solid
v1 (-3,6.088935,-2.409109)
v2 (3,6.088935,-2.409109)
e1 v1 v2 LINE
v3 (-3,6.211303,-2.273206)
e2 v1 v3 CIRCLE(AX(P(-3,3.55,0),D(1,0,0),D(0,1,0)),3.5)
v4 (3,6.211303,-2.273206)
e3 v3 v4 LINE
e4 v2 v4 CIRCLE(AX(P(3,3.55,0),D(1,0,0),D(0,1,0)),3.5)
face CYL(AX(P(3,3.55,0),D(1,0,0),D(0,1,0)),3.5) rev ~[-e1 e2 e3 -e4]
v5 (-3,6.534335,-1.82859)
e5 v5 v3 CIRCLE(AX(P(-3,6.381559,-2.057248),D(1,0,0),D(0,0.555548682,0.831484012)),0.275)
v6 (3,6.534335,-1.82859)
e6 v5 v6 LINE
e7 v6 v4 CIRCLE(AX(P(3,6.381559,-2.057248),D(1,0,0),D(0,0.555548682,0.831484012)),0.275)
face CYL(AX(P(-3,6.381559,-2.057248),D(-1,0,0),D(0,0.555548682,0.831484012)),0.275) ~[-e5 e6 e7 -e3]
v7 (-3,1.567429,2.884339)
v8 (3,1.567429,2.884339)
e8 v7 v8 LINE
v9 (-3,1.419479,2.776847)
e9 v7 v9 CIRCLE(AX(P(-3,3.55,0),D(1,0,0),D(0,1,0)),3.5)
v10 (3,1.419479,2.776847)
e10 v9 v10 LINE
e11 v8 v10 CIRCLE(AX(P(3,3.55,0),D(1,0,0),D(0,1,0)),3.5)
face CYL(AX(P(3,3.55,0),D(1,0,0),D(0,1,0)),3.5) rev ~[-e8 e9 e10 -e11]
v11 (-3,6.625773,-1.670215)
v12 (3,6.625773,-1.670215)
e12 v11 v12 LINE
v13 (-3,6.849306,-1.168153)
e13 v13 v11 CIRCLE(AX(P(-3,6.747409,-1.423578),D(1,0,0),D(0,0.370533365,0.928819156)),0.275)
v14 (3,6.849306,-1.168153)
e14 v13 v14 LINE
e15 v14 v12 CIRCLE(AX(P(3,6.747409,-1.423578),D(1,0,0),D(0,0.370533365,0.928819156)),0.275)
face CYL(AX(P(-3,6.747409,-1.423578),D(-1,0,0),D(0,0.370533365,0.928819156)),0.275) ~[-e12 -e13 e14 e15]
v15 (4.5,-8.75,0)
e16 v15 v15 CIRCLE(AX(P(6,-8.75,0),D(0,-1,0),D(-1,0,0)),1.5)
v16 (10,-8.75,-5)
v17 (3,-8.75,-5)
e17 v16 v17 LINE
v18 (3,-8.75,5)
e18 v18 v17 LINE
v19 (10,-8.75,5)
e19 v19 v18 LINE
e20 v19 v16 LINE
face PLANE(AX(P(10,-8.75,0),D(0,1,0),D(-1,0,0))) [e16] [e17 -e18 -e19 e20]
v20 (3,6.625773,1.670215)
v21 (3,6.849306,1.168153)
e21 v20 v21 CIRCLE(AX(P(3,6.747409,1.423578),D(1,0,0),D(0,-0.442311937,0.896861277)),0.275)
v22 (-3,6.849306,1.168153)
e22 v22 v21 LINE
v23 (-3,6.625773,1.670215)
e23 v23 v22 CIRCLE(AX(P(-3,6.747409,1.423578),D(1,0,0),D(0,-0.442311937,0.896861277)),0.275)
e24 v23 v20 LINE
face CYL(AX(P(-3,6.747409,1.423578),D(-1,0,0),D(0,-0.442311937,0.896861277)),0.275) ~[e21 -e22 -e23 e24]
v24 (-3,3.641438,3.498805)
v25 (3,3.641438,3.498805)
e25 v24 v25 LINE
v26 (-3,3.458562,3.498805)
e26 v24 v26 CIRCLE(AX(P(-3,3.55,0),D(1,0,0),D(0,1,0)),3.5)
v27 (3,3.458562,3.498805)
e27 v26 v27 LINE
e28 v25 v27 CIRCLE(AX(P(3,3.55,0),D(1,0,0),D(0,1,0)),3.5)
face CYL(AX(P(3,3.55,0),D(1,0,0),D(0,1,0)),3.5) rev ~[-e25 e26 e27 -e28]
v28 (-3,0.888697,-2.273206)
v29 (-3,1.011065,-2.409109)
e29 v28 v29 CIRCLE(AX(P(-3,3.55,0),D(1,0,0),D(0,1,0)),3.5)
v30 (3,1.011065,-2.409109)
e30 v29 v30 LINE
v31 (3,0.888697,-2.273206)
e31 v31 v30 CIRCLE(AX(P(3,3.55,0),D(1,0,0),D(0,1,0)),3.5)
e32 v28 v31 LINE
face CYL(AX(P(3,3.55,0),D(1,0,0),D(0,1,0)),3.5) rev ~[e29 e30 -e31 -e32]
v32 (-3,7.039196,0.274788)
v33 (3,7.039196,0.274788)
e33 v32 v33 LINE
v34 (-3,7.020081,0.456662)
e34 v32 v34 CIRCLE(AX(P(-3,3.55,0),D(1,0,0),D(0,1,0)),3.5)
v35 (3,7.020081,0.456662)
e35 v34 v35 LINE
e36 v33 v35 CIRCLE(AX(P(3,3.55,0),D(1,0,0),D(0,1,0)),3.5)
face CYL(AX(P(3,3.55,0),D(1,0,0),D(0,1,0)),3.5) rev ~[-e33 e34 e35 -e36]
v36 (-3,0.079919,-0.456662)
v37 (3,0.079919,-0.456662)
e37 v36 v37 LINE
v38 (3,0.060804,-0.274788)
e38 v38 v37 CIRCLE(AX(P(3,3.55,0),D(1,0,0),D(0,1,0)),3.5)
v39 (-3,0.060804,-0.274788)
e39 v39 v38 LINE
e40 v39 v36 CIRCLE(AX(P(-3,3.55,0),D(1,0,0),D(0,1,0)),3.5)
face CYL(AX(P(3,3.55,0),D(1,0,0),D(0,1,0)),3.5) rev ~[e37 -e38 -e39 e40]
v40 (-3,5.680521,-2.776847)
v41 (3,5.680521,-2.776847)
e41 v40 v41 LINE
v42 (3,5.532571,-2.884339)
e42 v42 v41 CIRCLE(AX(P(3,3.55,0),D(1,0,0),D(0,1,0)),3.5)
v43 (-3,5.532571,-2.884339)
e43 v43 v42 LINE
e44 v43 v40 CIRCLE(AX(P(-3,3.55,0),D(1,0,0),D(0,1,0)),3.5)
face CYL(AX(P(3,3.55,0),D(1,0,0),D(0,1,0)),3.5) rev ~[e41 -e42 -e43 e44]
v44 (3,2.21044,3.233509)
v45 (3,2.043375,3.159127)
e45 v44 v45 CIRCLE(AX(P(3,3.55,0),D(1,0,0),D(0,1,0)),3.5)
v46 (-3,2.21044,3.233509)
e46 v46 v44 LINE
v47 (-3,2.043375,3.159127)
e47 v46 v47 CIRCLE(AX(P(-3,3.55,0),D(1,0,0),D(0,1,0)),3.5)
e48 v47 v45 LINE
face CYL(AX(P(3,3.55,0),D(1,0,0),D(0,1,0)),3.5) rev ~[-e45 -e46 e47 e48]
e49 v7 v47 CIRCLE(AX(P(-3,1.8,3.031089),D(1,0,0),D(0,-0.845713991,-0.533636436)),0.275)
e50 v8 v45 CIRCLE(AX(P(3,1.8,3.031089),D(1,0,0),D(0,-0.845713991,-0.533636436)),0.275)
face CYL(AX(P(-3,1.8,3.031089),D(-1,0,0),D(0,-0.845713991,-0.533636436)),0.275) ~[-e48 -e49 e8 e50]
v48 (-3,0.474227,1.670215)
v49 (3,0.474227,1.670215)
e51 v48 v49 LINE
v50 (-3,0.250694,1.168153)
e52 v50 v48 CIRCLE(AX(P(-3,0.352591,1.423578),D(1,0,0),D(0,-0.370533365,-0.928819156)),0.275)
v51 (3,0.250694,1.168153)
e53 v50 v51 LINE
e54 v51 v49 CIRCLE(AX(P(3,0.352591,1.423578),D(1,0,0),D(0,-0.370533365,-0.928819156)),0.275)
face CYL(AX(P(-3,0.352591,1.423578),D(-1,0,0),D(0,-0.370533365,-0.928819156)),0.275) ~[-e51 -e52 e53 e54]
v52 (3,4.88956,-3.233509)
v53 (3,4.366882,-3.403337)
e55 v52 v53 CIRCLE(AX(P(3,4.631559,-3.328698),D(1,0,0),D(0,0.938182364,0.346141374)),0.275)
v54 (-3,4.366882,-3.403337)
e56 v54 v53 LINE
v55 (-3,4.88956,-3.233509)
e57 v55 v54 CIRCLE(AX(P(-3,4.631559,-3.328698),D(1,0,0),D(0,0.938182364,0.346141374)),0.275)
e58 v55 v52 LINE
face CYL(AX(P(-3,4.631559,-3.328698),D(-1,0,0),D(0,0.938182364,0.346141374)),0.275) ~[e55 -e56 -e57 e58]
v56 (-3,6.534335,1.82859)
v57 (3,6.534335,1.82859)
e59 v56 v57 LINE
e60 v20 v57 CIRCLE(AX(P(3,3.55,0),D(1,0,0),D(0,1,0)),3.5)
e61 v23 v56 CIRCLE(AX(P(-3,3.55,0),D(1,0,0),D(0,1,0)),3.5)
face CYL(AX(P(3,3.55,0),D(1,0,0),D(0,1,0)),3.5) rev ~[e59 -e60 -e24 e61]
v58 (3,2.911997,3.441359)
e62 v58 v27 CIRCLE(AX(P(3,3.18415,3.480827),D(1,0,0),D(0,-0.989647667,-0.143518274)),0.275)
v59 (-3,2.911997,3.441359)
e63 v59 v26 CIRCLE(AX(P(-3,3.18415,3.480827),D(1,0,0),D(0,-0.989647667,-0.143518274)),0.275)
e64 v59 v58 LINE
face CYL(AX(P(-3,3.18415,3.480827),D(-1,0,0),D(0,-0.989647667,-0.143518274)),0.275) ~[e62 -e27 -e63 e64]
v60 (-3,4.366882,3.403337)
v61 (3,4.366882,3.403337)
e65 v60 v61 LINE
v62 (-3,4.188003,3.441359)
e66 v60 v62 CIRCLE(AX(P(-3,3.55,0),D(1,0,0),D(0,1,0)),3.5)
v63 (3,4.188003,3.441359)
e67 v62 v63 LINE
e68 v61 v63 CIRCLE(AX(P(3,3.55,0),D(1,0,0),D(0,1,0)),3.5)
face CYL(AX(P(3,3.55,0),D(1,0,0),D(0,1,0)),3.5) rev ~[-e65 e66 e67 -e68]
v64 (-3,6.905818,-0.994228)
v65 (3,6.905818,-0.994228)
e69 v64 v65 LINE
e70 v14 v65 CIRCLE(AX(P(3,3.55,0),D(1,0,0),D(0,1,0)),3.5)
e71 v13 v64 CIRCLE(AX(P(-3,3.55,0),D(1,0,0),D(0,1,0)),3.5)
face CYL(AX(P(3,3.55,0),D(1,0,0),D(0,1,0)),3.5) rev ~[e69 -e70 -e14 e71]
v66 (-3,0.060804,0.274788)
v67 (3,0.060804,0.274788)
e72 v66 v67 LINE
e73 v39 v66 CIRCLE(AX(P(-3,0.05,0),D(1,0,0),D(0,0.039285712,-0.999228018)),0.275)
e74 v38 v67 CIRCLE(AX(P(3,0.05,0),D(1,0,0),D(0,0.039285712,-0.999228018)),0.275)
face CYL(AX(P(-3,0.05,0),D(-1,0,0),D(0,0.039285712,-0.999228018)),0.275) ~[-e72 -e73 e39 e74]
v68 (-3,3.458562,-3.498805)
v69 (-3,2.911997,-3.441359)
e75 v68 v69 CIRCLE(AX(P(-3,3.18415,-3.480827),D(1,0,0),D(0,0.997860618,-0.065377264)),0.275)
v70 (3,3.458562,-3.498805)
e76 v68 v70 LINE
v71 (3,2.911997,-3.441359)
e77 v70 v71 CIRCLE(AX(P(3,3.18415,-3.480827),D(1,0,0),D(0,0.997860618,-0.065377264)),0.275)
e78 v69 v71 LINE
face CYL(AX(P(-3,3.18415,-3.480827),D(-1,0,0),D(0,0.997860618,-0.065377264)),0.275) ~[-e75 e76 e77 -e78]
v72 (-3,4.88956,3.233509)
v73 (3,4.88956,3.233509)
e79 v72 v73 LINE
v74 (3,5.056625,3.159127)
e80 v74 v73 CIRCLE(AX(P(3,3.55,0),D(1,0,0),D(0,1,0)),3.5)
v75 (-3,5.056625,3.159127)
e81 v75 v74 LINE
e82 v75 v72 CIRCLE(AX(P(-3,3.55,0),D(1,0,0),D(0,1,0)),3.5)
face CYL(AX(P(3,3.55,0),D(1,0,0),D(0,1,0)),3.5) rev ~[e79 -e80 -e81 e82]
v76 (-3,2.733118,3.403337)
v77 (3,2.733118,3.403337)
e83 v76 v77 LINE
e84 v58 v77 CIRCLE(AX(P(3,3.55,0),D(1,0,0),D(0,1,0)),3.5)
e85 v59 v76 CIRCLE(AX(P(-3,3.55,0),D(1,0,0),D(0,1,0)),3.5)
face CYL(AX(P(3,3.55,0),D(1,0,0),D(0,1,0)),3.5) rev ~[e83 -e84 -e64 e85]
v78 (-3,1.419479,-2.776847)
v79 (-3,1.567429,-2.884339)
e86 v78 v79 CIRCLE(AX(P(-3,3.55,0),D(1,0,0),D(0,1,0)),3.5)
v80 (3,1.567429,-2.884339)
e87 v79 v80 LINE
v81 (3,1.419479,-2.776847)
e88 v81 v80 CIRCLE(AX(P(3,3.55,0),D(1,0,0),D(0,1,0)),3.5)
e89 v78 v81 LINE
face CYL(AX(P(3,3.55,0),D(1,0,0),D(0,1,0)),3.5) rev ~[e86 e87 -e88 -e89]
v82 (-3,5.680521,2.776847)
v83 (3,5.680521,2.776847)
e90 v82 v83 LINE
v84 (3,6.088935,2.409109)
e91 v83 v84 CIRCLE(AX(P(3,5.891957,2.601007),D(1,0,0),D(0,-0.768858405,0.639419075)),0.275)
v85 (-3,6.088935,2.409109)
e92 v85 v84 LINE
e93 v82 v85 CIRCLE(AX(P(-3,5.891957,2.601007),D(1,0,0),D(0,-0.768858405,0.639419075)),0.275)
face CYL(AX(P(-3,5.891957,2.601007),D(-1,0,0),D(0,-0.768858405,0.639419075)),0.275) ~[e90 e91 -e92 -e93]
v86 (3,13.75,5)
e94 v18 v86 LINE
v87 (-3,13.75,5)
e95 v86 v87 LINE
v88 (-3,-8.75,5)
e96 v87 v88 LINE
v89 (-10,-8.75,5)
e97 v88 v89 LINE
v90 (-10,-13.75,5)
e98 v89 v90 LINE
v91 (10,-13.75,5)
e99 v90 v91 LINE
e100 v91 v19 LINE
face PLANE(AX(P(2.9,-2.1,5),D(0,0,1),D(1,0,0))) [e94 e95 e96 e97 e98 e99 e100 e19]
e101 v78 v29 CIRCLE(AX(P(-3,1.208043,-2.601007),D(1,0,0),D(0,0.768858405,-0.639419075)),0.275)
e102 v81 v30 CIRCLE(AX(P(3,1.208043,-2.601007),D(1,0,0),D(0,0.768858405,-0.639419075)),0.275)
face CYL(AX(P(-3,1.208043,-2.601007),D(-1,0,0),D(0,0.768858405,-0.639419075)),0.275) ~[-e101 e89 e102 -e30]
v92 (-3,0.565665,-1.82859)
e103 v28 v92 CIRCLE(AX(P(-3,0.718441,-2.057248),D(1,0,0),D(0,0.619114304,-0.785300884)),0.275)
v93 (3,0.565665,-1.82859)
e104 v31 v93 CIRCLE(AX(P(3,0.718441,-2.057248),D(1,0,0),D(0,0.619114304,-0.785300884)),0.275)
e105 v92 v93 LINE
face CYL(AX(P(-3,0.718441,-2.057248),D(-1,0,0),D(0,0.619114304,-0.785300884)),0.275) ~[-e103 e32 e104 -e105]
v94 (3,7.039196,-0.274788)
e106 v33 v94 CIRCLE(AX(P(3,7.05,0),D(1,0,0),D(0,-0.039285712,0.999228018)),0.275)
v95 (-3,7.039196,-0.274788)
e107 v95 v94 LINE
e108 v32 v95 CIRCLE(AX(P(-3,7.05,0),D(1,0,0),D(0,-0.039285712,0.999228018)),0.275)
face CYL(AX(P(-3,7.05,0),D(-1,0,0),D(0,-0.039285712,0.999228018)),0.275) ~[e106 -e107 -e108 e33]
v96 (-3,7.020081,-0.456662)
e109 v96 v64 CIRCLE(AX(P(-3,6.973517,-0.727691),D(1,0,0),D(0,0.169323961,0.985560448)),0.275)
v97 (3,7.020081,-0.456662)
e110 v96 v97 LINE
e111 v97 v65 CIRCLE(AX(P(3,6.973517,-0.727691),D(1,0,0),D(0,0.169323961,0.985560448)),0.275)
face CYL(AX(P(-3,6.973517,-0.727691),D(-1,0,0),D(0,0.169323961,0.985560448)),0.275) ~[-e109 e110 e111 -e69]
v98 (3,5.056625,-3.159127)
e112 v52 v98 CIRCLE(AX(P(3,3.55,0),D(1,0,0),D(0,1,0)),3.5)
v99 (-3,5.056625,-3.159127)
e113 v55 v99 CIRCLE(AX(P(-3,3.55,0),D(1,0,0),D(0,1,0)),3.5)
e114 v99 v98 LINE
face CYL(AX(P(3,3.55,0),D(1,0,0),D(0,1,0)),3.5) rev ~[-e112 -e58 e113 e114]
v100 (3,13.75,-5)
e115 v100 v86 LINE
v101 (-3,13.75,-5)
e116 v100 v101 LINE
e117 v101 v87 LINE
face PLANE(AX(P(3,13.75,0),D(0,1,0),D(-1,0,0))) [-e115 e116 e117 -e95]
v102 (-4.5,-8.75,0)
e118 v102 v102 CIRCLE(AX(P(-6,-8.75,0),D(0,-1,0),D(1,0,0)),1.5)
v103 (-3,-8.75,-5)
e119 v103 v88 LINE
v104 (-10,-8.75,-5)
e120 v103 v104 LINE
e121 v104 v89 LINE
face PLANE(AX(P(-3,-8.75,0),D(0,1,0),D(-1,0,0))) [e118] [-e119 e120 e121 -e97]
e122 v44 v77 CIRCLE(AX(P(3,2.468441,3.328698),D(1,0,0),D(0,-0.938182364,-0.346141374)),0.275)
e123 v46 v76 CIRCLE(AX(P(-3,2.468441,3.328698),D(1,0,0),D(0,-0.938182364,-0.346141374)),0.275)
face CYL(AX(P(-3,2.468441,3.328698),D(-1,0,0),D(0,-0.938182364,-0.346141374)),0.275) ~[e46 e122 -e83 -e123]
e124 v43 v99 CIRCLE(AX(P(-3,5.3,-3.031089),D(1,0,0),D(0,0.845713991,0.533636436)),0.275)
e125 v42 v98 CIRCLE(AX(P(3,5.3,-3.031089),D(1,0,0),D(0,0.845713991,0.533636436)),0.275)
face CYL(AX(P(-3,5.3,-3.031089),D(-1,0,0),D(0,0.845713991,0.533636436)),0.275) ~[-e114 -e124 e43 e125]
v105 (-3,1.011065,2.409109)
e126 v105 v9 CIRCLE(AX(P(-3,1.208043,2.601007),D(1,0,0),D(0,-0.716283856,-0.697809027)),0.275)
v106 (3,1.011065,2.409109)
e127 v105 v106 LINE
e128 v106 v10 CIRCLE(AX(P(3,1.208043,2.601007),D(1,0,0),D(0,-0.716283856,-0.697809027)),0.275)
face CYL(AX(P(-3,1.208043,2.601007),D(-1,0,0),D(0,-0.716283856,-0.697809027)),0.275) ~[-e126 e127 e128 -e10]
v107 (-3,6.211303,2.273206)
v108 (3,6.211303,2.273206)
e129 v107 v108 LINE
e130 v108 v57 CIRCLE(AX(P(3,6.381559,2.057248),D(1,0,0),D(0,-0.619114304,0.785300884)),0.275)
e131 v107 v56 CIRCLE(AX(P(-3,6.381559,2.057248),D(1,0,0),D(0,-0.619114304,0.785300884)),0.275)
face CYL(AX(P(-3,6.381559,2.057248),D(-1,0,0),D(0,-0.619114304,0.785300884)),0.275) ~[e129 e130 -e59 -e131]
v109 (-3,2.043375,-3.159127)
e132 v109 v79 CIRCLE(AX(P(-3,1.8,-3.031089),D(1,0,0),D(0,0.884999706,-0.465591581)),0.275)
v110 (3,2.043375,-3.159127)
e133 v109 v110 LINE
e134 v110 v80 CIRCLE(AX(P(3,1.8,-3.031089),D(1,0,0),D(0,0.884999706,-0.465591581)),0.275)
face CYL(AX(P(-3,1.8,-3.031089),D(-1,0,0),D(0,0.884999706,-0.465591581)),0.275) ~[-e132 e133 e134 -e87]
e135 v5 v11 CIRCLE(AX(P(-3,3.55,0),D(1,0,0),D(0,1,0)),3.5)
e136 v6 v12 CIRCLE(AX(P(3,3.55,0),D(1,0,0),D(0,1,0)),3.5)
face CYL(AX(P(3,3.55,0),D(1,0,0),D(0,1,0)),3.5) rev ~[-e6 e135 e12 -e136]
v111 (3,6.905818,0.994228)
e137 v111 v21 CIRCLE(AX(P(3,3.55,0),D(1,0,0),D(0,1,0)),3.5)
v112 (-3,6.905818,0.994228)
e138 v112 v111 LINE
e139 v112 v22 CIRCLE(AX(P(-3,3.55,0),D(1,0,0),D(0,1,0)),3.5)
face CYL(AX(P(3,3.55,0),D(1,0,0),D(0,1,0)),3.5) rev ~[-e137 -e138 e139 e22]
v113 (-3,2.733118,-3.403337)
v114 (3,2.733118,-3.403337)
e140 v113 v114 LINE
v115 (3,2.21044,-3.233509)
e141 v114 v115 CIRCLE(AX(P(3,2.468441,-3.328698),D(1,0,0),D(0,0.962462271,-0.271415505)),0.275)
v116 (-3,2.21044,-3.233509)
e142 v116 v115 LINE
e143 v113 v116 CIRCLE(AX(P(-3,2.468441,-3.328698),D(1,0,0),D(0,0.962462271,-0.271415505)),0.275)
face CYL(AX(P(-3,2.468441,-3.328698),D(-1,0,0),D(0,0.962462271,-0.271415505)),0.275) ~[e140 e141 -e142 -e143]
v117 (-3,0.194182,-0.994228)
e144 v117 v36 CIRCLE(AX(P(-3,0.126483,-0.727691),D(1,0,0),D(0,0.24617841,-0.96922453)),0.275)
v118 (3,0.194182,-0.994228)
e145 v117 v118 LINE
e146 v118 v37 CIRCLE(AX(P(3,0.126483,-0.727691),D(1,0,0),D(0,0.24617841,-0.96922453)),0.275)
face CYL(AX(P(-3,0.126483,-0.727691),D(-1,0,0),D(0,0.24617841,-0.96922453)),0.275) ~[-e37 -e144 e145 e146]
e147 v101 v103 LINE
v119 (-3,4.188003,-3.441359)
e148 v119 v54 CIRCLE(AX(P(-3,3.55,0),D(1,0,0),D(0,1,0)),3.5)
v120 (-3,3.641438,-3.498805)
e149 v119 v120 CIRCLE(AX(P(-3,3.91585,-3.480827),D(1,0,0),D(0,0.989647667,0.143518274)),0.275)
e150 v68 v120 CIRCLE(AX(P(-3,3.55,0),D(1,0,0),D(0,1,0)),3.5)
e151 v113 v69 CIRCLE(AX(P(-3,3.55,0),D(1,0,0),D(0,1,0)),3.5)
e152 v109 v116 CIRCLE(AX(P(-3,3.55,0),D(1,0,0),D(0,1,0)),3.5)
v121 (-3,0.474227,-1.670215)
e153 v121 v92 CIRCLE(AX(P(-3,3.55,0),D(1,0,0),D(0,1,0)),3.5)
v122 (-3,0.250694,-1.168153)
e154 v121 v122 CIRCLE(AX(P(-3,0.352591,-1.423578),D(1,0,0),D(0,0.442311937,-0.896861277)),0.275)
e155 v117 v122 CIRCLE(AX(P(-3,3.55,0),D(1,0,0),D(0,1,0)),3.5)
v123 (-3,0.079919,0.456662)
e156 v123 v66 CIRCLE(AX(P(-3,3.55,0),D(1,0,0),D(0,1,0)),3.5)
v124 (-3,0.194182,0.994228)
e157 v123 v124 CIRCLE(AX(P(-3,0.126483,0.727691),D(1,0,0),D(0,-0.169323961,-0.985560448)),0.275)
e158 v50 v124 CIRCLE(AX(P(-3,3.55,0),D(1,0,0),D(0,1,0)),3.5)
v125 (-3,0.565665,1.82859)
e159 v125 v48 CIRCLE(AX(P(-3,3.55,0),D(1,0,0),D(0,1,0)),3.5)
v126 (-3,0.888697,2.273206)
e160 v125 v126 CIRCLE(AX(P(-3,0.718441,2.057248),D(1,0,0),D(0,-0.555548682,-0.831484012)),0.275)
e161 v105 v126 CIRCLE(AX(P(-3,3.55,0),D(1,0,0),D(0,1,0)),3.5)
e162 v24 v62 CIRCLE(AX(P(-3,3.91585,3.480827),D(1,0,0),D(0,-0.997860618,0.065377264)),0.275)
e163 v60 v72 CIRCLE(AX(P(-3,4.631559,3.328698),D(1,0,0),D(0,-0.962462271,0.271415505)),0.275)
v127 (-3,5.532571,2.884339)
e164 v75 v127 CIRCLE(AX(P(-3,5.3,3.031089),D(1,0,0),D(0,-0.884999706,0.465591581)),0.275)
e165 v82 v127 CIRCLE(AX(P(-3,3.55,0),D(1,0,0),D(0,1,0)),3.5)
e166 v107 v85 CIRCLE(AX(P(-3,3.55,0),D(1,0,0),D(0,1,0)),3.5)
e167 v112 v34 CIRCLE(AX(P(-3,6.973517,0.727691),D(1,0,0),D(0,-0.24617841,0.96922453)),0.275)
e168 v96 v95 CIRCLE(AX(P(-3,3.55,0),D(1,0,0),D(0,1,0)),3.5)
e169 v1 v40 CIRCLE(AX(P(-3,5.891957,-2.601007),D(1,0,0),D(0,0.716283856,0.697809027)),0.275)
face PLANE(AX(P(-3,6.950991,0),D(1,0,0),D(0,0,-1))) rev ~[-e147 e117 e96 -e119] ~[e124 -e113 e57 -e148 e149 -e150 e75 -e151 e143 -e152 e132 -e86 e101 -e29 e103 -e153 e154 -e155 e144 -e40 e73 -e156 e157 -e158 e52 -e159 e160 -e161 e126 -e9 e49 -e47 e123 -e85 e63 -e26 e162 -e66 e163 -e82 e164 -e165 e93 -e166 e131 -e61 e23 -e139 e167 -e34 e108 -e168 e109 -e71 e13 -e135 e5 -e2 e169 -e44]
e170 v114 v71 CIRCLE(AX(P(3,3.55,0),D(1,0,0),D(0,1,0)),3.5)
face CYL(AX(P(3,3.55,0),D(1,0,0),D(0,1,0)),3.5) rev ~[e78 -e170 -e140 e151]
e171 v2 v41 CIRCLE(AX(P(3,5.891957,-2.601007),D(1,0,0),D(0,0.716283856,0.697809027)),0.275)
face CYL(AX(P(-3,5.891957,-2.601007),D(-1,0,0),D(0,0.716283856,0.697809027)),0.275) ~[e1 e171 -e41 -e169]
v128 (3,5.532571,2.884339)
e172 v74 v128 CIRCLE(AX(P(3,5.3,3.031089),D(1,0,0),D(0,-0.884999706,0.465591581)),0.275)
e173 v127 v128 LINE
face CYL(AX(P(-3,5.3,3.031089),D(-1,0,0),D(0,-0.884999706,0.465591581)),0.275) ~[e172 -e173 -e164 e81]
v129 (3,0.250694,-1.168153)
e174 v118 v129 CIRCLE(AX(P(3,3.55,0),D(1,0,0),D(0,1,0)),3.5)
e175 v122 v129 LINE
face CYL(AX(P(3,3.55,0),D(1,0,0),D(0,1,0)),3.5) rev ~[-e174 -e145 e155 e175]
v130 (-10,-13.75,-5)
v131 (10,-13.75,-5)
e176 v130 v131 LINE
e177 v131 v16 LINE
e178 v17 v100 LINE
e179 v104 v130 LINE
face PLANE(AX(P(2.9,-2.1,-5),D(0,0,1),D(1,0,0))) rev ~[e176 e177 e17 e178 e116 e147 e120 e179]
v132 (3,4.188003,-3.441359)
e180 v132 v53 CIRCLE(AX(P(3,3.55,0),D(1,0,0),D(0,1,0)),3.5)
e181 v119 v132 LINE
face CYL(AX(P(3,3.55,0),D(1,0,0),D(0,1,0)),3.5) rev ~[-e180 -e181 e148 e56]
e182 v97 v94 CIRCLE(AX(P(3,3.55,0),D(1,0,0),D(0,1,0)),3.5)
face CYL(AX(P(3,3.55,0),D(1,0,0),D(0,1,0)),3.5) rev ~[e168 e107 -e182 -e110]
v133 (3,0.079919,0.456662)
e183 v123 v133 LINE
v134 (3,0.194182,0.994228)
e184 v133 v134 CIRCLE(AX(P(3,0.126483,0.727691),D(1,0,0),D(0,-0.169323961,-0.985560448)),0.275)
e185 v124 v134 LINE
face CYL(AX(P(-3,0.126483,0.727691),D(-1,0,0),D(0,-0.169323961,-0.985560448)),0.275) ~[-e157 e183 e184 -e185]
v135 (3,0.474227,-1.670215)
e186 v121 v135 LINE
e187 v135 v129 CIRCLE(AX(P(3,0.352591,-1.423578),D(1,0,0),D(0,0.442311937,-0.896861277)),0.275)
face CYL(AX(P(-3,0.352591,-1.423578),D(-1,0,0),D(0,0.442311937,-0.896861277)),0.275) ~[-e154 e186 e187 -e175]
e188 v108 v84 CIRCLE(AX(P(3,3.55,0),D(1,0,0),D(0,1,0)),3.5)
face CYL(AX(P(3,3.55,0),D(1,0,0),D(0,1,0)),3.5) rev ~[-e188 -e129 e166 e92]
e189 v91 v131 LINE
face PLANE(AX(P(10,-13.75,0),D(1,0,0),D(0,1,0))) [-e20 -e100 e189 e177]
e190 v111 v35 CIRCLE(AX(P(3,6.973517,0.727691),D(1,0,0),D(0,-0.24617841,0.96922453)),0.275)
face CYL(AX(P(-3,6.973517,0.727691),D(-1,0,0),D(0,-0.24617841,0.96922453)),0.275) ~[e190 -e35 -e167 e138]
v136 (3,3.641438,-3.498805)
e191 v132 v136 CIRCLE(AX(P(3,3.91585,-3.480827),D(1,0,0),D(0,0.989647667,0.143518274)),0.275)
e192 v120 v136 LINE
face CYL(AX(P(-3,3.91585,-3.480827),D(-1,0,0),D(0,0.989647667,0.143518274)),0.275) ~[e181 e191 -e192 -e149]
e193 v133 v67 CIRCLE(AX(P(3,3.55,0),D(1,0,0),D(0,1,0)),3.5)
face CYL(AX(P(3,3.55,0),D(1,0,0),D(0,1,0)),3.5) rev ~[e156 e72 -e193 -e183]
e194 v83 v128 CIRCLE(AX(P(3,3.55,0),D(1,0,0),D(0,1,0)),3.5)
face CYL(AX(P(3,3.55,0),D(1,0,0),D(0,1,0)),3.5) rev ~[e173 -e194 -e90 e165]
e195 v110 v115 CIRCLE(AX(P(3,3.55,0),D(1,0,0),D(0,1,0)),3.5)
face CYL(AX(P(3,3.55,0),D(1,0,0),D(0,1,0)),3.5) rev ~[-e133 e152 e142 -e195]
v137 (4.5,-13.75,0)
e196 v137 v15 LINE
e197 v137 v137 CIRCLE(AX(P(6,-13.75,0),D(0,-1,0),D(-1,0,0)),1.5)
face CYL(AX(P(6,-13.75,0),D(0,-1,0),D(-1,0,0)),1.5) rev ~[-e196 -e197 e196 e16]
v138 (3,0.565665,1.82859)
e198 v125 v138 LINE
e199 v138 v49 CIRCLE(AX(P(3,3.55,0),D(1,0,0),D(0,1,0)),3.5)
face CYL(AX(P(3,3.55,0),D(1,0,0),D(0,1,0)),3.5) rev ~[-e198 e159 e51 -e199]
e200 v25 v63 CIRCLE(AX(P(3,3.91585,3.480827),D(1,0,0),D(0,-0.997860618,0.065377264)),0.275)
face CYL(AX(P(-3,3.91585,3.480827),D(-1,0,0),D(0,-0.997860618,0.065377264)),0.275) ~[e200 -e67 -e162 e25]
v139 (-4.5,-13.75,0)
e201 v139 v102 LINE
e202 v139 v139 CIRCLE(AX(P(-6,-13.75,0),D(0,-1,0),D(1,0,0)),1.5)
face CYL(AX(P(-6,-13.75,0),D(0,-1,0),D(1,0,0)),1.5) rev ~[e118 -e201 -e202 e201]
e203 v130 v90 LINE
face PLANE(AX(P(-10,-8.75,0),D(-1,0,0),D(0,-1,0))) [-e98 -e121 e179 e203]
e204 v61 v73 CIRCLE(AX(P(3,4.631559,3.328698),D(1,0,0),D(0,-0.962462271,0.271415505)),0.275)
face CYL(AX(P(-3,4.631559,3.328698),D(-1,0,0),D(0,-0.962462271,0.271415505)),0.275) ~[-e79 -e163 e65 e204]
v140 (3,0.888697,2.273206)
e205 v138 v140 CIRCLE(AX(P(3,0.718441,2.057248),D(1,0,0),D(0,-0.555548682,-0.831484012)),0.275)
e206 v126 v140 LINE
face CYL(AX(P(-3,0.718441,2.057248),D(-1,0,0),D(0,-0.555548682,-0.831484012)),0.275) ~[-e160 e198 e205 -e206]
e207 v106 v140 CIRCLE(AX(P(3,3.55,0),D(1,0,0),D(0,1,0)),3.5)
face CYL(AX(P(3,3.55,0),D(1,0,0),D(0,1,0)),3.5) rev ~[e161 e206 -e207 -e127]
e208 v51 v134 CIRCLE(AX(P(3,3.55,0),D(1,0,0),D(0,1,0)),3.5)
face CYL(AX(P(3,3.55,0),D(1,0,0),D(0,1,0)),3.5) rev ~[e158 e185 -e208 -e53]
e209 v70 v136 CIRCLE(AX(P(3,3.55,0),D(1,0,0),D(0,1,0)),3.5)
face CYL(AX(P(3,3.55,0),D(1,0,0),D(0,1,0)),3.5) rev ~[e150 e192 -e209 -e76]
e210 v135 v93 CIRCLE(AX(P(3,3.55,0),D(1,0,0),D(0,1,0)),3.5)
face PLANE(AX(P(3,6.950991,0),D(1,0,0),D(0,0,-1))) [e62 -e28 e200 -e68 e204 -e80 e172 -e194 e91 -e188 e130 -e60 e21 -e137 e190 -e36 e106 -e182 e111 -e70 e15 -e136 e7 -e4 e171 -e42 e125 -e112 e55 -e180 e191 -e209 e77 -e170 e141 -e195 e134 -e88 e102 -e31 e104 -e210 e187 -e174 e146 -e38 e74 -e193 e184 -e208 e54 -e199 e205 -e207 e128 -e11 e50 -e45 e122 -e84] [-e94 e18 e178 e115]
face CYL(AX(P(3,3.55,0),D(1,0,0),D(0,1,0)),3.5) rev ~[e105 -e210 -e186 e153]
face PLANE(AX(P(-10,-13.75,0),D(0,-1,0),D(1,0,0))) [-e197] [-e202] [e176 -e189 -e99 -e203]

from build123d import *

# Parameters (mm, degrees)
SALIENTE_EXTRUIR1_DEPTH      = 5
CROQUIS4_R                   = 3.5
CORTAR_EXTRUIR3_DEPTH        = 15
CROQUIS5_R                   = 1.5
CORTAR_EXTRUIR4_DEPTH        = 10
SALIENTE_EXTRUIR2_DEPTH      = 3
SALIENTE_EXTRUIR2_DEPTH_BACK = 3


with BuildPart() as part:
    # Croquis1 → Saliente-Extruir1 (new, symmetric)
    with BuildSketch(Plane.XY):
        Polygon((3, -8.75), (3, 13.75), (0, 13.75), (0, -13.75), (10, -13.75), (10, -8.75), align=None)
        Polygon((0, -13.75), (0, 13.75), (-3, 13.75), (-3, -8.75), (-10, -8.75), (-10, -13.75), align=None)
    extrude(amount=SALIENTE_EXTRUIR1_DEPTH, both=True)

    # Croquis4 → Cortar-Extruir3 (cut)
    with BuildSketch(Plane(origin=(3, 0, 0), x_dir=(0, 0, -1), z_dir=(1, 0, 0))):
        with Locations(Location((0, 3.55, 0), (0, 0, 90))):
            Circle(CROQUIS4_R)
    extrude(amount=-CORTAR_EXTRUIR3_DEPTH, mode=Mode.SUBTRACT)

    # Croquis5 → Cortar-Extruir4 (cut)
    with BuildSketch(Plane.XZ.offset(13.75)):
        with Locations((-6, 0)):
            Circle(CROQUIS5_R)
        with Locations(Location((6, 0, 0), (0, 0, 180))):
            Circle(CROQUIS5_R)
    extrude(amount=-CORTAR_EXTRUIR4_DEPTH, mode=Mode.SUBTRACT)

    # Croquis6 → Saliente-Extruir2 (add, two sides: drawn at the far end of the back side and taken through both)
    with BuildSketch(Plane(origin=(0, 0, 0), x_dir=(0, 0, -1), z_dir=(1, 0, 0)).offset(-SALIENTE_EXTRUIR2_DEPTH_BACK)):
        with BuildLine():
            ThreePointArc((0.274787705, 7.039196429), (0, 7.05), (-0.274787705, 7.039196429))
            ThreePointArc((-0.274787705, 7.039196429), (0, 6.775), (0.274787705, 7.039196429))
        make_face()
        with BuildLine():
            ThreePointArc((0.994227663, 6.905817539), (0.727690918, 6.973516603), (0.456661795, 7.020080691))
            ThreePointArc((0.456661795, 7.020080691), (0.670515203, 6.704526012), (0.994227663, 6.905817539))
        make_face()
        with BuildLine():
            ThreePointArc((1.670215102, 6.625773319), (1.423578251, 6.747409102), (1.168152983, 6.849305777))
            ThreePointArc((1.168152983, 6.849305777), (1.311725674, 6.496184101), (1.670215102, 6.625773319))
        make_face()
        with BuildLine():
            ThreePointArc((2.273206126, 6.211303047), (2.057248383, 6.38155948), (1.82859028, 6.534335368))
            ThreePointArc((1.82859028, 6.534335368), (1.895607439, 6.159079807), (2.273206126, 6.211303047))
        make_face()
        with BuildLine():
            ThreePointArc((2.776847135, 5.680521061), (2.601006889, 5.891957122), (2.409109407, 6.088935183))
            ThreePointArc((2.409109407, 6.088935183), (2.396642062, 5.707946206), (2.776847135, 5.680521061))
        make_face()
        with BuildLine():
            ThreePointArc((3.159126598, 5.056625081), (3.031088913, 5.3), (2.884338893, 5.532571348))
            ThreePointArc((2.884338893, 5.532571348), (2.792931927, 5.1625), (3.159126598, 5.056625081))
        make_face()
        with BuildLine():
            ThreePointArc((3.403337071, 4.366882356), (3.328697807, 4.63155948), (3.233508929, 4.889559631))
            ThreePointArc((3.233508929, 4.889559631), (3.067157265, 4.546579807), (3.403337071, 4.366882356))
        make_face()
        with BuildLine():
            ThreePointArc((3.498805382, 3.641437951), (3.480826634, 3.915849621), (3.441359109, 4.18800273))
            ThreePointArc((3.441359109, 4.18800273), (3.207333113, 3.887104294), (3.498805382, 3.641437951))
        make_face()
        with BuildLine():
            ThreePointArc((3.441359109, 2.91199727), (3.480826634, 3.184150379), (3.498805382, 3.458562049))
            ThreePointArc((3.498805382, 3.458562049), (3.207333113, 3.212895706), (3.441359109, 2.91199727))
        make_face()
        with BuildLine():
            ThreePointArc((3.233508929, 2.210440369), (3.328697807, 2.46844052), (3.403337071, 2.733117644))
            ThreePointArc((3.403337071, 2.733117644), (3.067157265, 2.553420193), (3.233508929, 2.210440369))
        make_face()
        with BuildLine():
            ThreePointArc((2.884338893, 1.567428652), (3.031088913, 1.8), (3.159126598, 2.043374919))
            ThreePointArc((3.159126598, 2.043374919), (2.792931927, 1.9375), (2.884338893, 1.567428652))
        make_face()
        with BuildLine():
            ThreePointArc((2.409109407, 1.011064817), (2.601006889, 1.208042878), (2.776847135, 1.419478939))
            ThreePointArc((2.776847135, 1.419478939), (2.396642062, 1.392053794), (2.409109407, 1.011064817))
        make_face()
        with BuildLine():
            ThreePointArc((1.82859028, 0.565664632), (2.057248383, 0.71844052), (2.273206126, 0.888696953))
            ThreePointArc((2.273206126, 0.888696953), (1.895607439, 0.940920193), (1.82859028, 0.565664632))
        make_face()
        with BuildLine():
            ThreePointArc((1.168152983, 0.250694223), (1.423578251, 0.352590898), (1.670215102, 0.474226681))
            ThreePointArc((1.670215102, 0.474226681), (1.311725674, 0.603815899), (1.168152983, 0.250694223))
        make_face()
        with BuildLine():
            ThreePointArc((0.456661795, 0.079919309), (0.727690918, 0.126483397), (0.994227663, 0.194182461))
            ThreePointArc((0.994227663, 0.194182461), (0.670515203, 0.395473988), (0.456661795, 0.079919309))
        make_face()
        with BuildLine():
            ThreePointArc((-0.274787705, 0.060803571), (0, 0.05), (0.274787705, 0.060803571))
            ThreePointArc((0.274787705, 0.060803571), (0, 0.325), (-0.274787705, 0.060803571))
        make_face()
        with BuildLine():
            ThreePointArc((-0.994227663, 0.194182461), (-0.727690918, 0.126483397), (-0.456661795, 0.079919309))
            ThreePointArc((-0.456661795, 0.079919309), (-0.670515203, 0.395473988), (-0.994227663, 0.194182461))
        make_face()
        with BuildLine():
            ThreePointArc((-1.670215102, 0.474226681), (-1.423578251, 0.352590898), (-1.168152983, 0.250694223))
            ThreePointArc((-1.168152983, 0.250694223), (-1.311725674, 0.603815899), (-1.670215102, 0.474226681))
        make_face()
        with BuildLine():
            ThreePointArc((-2.273206126, 0.888696953), (-2.057248383, 0.71844052), (-1.82859028, 0.565664632))
            ThreePointArc((-1.82859028, 0.565664632), (-1.895607439, 0.940920193), (-2.273206126, 0.888696953))
        make_face()
        with BuildLine():
            ThreePointArc((-2.776847135, 1.419478939), (-2.601006889, 1.208042878), (-2.409109407, 1.011064817))
            ThreePointArc((-2.409109407, 1.011064817), (-2.396642062, 1.392053794), (-2.776847135, 1.419478939))
        make_face()
        with BuildLine():
            ThreePointArc((-3.159126598, 2.043374919), (-3.031088913, 1.8), (-2.884338893, 1.567428652))
            ThreePointArc((-2.884338893, 1.567428652), (-2.792931927, 1.9375), (-3.159126598, 2.043374919))
        make_face()
        with BuildLine():
            ThreePointArc((-3.403337071, 2.733117644), (-3.328697807, 2.46844052), (-3.233508929, 2.210440369))
            ThreePointArc((-3.233508929, 2.210440369), (-3.067157265, 2.553420193), (-3.403337071, 2.733117644))
        make_face()
        with BuildLine():
            ThreePointArc((-3.498805382, 3.458562049), (-3.480826634, 3.184150379), (-3.441359109, 2.91199727))
            ThreePointArc((-3.441359109, 2.91199727), (-3.207333113, 3.212895706), (-3.498805382, 3.458562049))
        make_face()
        with BuildLine():
            ThreePointArc((-3.441359109, 4.18800273), (-3.480826634, 3.915849621), (-3.498805382, 3.641437951))
            ThreePointArc((-3.498805382, 3.641437951), (-3.207333113, 3.887104294), (-3.441359109, 4.18800273))
        make_face()
        with BuildLine():
            ThreePointArc((-3.233508929, 4.889559631), (-3.328697807, 4.63155948), (-3.403337071, 4.366882356))
            ThreePointArc((-3.403337071, 4.366882356), (-3.067157265, 4.546579807), (-3.233508929, 4.889559631))
        make_face()
        with BuildLine():
            ThreePointArc((-2.884338893, 5.532571348), (-3.031088913, 5.3), (-3.159126598, 5.056625081))
            ThreePointArc((-3.159126598, 5.056625081), (-2.792931927, 5.1625), (-2.884338893, 5.532571348))
        make_face()
        with BuildLine():
            ThreePointArc((-2.409109407, 6.088935183), (-2.601006889, 5.891957122), (-2.776847135, 5.680521061))
            ThreePointArc((-2.776847135, 5.680521061), (-2.396642062, 5.707946206), (-2.409109407, 6.088935183))
        make_face()
        with BuildLine():
            ThreePointArc((-1.82859028, 6.534335368), (-2.057248383, 6.38155948), (-2.273206126, 6.211303047))
            ThreePointArc((-2.273206126, 6.211303047), (-1.895607439, 6.159079807), (-1.82859028, 6.534335368))
        make_face()
        with BuildLine():
            ThreePointArc((-1.168152983, 6.849305777), (-1.423578251, 6.747409102), (-1.670215102, 6.625773319))
            ThreePointArc((-1.670215102, 6.625773319), (-1.311725674, 6.496184101), (-1.168152983, 6.849305777))
        make_face()
        with BuildLine():
            ThreePointArc((-0.456661795, 7.020080691), (-0.727690918, 6.973516603), (-0.994227663, 6.905817539))
            ThreePointArc((-0.994227663, 6.905817539), (-0.670515203, 6.704526012), (-0.456661795, 7.020080691))
        make_face()
    extrude(amount=SALIENTE_EXTRUIR2_DEPTH + SALIENTE_EXTRUIR2_DEPTH_BACK)


solid = part.part
